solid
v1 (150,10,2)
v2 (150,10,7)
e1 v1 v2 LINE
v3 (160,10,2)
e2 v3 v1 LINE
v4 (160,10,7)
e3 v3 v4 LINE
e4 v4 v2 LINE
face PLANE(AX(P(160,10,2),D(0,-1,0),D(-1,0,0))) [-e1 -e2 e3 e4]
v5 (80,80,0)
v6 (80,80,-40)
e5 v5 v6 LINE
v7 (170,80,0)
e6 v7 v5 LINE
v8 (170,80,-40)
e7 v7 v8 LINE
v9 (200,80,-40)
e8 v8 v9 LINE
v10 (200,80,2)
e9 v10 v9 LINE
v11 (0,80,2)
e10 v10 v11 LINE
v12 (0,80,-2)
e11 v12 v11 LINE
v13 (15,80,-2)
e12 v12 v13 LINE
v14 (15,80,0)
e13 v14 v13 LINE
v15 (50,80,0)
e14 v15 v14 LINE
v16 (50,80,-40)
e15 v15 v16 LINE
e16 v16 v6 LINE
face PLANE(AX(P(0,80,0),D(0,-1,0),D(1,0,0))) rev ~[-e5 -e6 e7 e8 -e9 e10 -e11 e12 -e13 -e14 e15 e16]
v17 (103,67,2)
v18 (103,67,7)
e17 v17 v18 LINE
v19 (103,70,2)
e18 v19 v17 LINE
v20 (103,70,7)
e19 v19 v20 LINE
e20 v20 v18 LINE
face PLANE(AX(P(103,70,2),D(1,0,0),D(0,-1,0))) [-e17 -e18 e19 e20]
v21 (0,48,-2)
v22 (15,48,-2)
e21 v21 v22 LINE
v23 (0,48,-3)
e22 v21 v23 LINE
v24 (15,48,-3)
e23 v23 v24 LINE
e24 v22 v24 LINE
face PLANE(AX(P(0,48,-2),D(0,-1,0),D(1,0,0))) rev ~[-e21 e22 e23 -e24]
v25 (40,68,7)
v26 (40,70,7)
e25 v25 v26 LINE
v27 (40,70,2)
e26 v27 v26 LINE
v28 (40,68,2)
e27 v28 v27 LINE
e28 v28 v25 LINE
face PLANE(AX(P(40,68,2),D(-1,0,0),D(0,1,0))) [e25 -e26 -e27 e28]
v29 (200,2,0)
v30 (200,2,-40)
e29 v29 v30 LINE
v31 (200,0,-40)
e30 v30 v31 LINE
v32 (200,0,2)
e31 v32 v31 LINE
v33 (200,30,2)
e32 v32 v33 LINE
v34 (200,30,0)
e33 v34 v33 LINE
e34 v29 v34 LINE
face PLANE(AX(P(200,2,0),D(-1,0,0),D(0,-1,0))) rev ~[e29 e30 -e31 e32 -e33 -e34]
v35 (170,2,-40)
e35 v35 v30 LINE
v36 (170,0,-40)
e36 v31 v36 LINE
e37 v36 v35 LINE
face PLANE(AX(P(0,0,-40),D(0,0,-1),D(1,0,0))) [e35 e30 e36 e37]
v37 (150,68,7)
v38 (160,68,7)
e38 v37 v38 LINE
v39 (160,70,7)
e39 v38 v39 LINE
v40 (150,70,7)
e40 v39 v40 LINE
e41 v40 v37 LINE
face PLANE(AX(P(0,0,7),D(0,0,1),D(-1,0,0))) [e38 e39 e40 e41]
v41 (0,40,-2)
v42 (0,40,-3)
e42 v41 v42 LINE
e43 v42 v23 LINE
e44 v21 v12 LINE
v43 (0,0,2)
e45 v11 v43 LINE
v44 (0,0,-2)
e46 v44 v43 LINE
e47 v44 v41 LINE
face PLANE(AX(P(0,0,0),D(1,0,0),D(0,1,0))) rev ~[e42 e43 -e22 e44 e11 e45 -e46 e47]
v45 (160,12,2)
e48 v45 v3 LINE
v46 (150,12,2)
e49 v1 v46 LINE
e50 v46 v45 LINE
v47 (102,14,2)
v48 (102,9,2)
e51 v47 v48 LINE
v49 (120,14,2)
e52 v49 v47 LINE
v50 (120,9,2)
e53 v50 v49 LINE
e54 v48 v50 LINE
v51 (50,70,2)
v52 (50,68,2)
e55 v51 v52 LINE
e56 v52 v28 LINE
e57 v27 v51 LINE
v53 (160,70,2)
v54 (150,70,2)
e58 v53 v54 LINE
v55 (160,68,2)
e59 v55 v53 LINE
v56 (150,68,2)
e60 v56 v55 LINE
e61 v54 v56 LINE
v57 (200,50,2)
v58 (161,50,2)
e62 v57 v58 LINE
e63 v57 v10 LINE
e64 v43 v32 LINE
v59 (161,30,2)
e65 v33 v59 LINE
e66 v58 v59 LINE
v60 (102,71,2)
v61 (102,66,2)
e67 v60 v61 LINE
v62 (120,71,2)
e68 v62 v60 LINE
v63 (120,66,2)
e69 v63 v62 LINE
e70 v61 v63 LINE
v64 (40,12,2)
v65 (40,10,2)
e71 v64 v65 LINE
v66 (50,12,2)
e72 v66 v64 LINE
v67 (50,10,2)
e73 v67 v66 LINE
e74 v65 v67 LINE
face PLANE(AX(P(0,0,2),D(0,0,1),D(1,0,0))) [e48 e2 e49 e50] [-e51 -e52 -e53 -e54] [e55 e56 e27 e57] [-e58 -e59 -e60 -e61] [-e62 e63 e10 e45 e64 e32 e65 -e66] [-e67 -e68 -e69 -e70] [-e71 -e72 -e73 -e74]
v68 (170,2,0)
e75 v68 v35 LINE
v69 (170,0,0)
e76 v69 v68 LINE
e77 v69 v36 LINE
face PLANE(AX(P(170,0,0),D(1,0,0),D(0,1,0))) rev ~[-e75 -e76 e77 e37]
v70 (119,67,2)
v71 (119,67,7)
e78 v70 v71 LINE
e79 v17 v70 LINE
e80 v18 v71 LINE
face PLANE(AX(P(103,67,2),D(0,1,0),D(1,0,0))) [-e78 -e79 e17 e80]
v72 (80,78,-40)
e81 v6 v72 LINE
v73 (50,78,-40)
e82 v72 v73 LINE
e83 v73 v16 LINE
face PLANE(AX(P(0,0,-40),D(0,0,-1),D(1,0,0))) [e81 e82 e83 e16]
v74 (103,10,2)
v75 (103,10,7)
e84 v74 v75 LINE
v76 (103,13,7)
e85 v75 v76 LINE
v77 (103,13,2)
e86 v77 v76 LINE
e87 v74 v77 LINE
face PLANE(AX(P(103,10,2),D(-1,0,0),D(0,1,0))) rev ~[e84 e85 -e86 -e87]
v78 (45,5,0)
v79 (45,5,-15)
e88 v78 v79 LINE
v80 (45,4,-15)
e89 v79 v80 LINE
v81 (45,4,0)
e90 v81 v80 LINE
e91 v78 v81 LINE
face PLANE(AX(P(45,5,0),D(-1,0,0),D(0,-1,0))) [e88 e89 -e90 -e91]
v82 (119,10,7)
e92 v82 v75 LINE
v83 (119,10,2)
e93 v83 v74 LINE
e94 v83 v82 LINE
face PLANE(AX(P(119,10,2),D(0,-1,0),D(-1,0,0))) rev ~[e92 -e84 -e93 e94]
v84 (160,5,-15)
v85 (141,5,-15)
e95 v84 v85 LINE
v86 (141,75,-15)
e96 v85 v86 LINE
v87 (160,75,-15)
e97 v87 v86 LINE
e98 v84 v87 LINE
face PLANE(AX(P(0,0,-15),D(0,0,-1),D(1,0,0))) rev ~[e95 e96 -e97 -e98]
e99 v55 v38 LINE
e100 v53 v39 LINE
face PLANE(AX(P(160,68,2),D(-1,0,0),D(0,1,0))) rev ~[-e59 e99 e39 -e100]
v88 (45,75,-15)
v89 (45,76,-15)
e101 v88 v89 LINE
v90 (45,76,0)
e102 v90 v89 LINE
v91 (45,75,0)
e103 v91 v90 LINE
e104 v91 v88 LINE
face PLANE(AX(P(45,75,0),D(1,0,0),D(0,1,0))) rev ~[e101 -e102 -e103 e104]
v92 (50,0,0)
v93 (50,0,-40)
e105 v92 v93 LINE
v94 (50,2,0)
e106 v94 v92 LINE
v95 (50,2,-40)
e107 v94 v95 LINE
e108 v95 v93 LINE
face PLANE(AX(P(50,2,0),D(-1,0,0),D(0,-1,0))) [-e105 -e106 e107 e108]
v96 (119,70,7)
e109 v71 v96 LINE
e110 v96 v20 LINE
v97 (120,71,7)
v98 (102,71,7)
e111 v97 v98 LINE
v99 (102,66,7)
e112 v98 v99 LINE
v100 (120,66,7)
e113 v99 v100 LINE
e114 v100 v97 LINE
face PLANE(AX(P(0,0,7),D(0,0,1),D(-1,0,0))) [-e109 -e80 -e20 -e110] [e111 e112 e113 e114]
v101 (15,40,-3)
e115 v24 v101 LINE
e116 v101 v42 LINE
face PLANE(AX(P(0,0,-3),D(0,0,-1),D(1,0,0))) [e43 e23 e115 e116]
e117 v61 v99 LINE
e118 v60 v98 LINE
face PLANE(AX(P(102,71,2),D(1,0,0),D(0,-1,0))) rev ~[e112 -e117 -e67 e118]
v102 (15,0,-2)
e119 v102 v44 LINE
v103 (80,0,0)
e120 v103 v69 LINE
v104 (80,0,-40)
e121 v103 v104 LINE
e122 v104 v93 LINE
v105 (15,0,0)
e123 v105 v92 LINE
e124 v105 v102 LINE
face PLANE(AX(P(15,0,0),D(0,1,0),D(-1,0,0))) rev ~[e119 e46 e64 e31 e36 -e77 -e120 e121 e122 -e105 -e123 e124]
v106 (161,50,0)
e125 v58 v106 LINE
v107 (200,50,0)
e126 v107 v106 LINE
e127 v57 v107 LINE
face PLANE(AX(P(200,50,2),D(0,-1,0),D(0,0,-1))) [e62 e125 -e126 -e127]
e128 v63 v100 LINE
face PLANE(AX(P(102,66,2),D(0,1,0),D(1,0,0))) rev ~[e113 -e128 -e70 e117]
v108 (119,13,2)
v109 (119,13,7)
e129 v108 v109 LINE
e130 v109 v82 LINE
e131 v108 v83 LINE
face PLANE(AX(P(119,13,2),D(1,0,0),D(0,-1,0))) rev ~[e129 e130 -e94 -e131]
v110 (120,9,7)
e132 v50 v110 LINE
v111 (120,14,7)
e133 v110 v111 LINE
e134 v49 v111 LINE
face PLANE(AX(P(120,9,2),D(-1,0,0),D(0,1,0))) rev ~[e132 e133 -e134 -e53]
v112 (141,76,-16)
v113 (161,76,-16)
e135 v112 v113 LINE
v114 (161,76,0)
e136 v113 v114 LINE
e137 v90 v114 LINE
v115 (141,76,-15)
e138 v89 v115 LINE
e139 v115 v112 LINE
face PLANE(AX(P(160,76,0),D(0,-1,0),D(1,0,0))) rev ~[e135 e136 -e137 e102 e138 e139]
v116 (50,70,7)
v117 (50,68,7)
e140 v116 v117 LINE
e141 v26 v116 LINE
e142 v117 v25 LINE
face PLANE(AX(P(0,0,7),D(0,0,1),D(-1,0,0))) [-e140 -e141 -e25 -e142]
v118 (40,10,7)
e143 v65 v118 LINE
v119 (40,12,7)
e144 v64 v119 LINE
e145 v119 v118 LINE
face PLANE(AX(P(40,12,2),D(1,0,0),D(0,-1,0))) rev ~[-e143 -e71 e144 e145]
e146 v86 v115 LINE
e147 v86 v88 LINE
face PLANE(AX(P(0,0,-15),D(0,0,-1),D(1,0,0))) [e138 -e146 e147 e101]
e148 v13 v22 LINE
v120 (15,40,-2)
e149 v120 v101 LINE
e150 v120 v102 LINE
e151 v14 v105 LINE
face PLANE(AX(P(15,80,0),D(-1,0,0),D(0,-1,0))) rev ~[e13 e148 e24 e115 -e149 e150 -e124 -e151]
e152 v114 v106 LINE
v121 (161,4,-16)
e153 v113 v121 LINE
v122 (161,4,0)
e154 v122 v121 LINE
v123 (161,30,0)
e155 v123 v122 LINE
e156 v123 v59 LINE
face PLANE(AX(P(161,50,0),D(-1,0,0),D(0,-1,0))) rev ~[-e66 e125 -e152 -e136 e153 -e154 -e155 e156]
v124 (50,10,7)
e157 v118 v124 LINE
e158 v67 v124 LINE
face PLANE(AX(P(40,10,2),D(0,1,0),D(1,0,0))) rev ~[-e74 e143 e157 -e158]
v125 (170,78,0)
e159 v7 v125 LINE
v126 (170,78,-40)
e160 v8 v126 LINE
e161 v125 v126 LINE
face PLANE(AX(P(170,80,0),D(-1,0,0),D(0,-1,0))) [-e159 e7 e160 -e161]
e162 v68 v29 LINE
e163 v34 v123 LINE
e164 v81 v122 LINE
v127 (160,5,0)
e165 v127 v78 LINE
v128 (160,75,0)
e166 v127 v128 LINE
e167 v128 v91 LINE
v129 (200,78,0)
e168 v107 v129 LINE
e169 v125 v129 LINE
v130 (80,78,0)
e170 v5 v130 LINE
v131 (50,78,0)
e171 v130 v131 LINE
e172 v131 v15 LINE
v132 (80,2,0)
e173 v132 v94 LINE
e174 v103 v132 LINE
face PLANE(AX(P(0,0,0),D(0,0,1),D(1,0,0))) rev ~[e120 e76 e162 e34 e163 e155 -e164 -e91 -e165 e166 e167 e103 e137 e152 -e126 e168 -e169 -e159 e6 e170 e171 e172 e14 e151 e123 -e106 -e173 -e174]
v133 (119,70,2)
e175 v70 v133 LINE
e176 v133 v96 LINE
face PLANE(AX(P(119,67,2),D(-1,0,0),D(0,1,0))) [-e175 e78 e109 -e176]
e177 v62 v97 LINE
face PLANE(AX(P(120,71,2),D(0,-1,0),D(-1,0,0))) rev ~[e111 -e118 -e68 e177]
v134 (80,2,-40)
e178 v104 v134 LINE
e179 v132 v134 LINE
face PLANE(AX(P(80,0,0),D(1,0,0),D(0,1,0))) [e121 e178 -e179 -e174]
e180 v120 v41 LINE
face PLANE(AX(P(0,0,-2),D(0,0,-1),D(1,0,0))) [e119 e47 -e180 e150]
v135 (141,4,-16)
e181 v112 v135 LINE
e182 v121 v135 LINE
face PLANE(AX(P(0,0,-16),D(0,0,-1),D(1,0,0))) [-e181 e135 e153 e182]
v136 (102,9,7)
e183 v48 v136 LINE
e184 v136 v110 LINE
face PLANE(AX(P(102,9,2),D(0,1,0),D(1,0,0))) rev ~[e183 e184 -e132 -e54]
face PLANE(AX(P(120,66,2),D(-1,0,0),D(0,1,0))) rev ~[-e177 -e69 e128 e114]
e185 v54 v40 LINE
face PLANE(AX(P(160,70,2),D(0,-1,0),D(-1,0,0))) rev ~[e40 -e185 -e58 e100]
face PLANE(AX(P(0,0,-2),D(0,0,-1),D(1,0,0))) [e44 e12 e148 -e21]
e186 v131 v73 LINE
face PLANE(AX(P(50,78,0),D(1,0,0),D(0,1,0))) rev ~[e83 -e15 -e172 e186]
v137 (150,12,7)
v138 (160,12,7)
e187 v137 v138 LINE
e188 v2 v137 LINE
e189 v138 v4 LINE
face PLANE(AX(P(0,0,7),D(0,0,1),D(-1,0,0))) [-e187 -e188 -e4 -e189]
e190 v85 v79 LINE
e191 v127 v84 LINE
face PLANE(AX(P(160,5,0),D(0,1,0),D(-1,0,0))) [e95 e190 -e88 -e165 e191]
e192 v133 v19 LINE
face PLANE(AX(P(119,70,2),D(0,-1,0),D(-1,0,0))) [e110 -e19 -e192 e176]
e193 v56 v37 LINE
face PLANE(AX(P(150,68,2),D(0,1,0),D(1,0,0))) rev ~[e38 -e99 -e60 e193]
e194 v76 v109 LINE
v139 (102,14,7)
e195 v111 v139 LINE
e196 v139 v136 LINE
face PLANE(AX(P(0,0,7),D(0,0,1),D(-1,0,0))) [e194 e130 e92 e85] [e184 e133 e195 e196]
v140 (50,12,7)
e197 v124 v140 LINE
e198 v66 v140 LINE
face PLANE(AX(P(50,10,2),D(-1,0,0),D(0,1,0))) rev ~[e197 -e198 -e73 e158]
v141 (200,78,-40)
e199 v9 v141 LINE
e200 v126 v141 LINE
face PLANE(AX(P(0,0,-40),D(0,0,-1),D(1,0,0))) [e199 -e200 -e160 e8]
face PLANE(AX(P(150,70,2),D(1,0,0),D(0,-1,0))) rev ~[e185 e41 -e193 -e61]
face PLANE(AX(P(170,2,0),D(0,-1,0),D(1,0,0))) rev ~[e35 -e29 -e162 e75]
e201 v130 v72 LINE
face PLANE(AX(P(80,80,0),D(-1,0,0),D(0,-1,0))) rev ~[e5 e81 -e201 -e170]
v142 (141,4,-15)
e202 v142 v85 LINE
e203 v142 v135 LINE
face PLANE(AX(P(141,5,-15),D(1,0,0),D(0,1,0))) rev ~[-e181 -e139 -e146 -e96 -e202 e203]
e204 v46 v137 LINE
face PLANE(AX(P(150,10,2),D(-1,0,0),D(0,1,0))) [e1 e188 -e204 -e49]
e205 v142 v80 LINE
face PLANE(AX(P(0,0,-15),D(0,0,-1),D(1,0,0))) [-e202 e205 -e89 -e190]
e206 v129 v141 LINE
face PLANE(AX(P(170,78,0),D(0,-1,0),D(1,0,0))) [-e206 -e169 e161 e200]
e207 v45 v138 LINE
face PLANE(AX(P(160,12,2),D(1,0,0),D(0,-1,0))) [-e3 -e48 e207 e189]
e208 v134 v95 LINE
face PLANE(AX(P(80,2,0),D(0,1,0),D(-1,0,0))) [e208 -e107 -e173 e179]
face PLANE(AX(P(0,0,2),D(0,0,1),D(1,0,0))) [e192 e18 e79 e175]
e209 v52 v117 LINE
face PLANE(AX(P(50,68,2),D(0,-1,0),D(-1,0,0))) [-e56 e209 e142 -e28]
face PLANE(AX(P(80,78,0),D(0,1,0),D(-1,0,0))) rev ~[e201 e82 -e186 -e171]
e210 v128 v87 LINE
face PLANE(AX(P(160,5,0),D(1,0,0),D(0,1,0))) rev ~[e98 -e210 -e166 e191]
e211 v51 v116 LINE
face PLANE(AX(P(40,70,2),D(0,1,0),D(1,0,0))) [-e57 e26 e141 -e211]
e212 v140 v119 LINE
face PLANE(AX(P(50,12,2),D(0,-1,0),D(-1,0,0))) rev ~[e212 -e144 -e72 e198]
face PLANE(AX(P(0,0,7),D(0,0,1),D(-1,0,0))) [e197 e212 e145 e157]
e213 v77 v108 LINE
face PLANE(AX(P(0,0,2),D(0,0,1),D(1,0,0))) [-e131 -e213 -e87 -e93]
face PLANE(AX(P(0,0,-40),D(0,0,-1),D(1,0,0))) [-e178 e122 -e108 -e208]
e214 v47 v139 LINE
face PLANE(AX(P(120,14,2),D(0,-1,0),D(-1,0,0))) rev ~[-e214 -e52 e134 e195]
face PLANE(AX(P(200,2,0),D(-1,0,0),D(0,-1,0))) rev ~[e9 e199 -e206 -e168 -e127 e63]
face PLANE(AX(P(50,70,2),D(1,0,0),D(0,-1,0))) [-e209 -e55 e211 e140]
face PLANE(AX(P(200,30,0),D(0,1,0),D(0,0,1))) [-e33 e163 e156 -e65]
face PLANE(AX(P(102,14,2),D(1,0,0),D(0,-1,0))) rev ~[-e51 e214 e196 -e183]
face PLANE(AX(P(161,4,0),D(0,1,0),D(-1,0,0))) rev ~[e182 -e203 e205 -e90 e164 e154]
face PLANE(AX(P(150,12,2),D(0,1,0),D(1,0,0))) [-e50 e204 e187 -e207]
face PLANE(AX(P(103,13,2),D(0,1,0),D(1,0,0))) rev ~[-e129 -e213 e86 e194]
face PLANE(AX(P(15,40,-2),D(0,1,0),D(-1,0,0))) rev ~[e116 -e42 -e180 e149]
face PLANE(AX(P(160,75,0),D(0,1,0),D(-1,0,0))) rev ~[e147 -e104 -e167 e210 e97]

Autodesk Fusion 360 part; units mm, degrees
sketch "Sketch1" plane through (0, 0, 0) normal (0, 0, 1) x (1, 0, 0)
  line L0 (0, 0) -> (200, 0)
  line L1 (200, 0) -> (200, 80)
  line L2 (200, 80) -> (0, 80)
  line L3 (0, 80) -> (0, 0)
  dimension "d1" = 200
  dimension "d2" = 80
  dimension "d58" = 0
  dimension "d59" = 0
  dimension "d60" = 0
  dimension "d61" = 0
  dimension "d125" = 0
  dimension "d126" = 0
  dimension "d127" = 0
  dimension "d128" = 0
extrude "Extrude1" add sketch "Sketch1" along normal blind 2
sketch "Sketch2" plane through (0, 0, 2) normal (0, 0, 1) x (-1, 0, 0)
  line L0 (0, -80) -> (0, 0)
  line L1 (0, 0) -> (-200, 0)
  line L2 (-200, 0) -> (-200, -80)
  line L3 (-200, -80) -> (0, -80)
  line L4 (-40, -70) -> (-50, -70)
  line L5 (-50, -70) -> (-50, -68)
  line L6 (-50, -68) -> (-40, -68)
  line L7 (-40, -68) -> (-40, -70)
  dimension "d5" = 10
  dimension "d6" = 2
  dimension "d9" = 10
  dimension "d10" = 40
extrude "Extrude2" add sketch "Sketch2" along normal blind 5 contours L4 L5 L6 L7
sketch "Sketch3" plane through (0, 0, 2) normal (0, 0, 1) x (-1, 0, 0)
  line L0 (-40, -68) -> (-40, -70)
  line L1 (-40, -70) -> (-50, -70)
  line L2 (-50, -70) -> (-50, -68)
  line L3 (-50, -68) -> (-40, -68)
  line L4 (0, -80) -> (0, 0)
  line L5 (0, 0) -> (-200, 0)
  line L6 (-200, 0) -> (-200, -80)
  line L7 (-200, -80) -> (0, -80)
  line L8 (-40, -10) -> (-50, -10)
  line L9 (-50, -10) -> (-50, -12)
  line L10 (-50, -12) -> (-40, -12)
  line L11 (-40, -12) -> (-40, -10)
  dimension "d11" = 10
  dimension "d12" = 2
  dimension "d13" = 10
  dimension "d14" = 40
extrude "Extrude3" add sketch "Sketch3" along normal blind 5 contours L8 L9 L10 L11
sketch "Sketch4" plane through (0, 0, 2) normal (0, 0, 1) x (-1, 0, 0)
  line L0 (-40, -12) -> (-50, -12)
  line L1 (-50, -12) -> (-50, -10)
  line L2 (-50, -10) -> (-40, -10)
  line L3 (-40, -10) -> (-40, -12)
  line L4 (-40, -68) -> (-40, -70)
  line L5 (-40, -70) -> (-50, -70)
  line L6 (-50, -70) -> (-50, -68)
  line L7 (-50, -68) -> (-40, -68)
  line L8 (0, -80) -> (0, 0)
  line L9 (0, 0) -> (-200, 0)
  line L10 (-200, 0) -> (-200, -80)
  line L11 (-200, -80) -> (0, -80)
  line L12 (-160, -10) -> (-150, -10)
  line L13 (-150, -10) -> (-150, -12)
  line L14 (-150, -12) -> (-160, -12)
  line L15 (-160, -12) -> (-160, -10)
  dimension "d17" = 10
  dimension "d18" = 2
  dimension "d19" = 40
  dimension "d20" = 10
extrude "Extrude4" add sketch "Sketch4" along normal blind 5 contours L12 L13 L14 L15
sketch "Sketch5" plane through (0, 0, 2) normal (0, 0, 1) x (-1, 0, 0)
  line L0 (-160, -12) -> (-160, -10)
  line L1 (-160, -10) -> (-150, -10)
  line L2 (-150, -10) -> (-150, -12)
  line L3 (-150, -12) -> (-160, -12)
  line L4 (-40, -12) -> (-50, -12)
  line L5 (-50, -12) -> (-50, -10)
  line L6 (-50, -10) -> (-40, -10)
  line L7 (-40, -10) -> (-40, -12)
  line L8 (-40, -68) -> (-40, -70)
  line L9 (-40, -70) -> (-50, -70)
  line L10 (-50, -70) -> (-50, -68)
  line L11 (-50, -68) -> (-40, -68)
  line L12 (0, -80) -> (0, 0)
  line L13 (0, 0) -> (-200, 0)
  line L14 (-200, 0) -> (-200, -80)
  line L15 (-200, -80) -> (0, -80)
  line L16 (-160, -70) -> (-150, -70)
  line L17 (-150, -70) -> (-150, -68)
  line L18 (-150, -68) -> (-160, -68)
  line L19 (-160, -68) -> (-160, -70)
  dimension "d23" = 10
  dimension "d24" = 2
  dimension "d25" = 40
  dimension "d26" = 10
extrude "Extrude5" add sketch "Sketch5" along normal blind 5 contours L16 L17 L18 L19
sketch "Sketch8" plane through (0, 0, 0) normal (0, 0, 1) x (1, 0, 0)
  line L0 (45, 4) -> (160, 4)
  line L1 (160, 4) -> (160, 5)
  line L2 (160, 5) -> (45, 5)
  line L3 (45, 5) -> (45, 4)
  line L4 (0, 0) -> (200, 0)
  line L5 (0, 80) -> (0, 0)
  dimension "d42" = 115
  dimension "d43" = 1
  dimension "d44" = 4
  dimension "d45" = 45
extrude "Extrude8" add sketch "Sketch8" against normal blind 15
sketch "Sketch9" plane through (0, 0, 0) normal (0, 0, -1) x (1, 0, 0)
  line L0 (45, -4) -> (160, -4)
  line L1 (160, -4) -> (160, -5)
  line L2 (160, -5) -> (45, -5)
  line L3 (45, -5) -> (45, -4)
  line L4 (0, 0) -> (0, -80)
  line L5 (0, -80) -> (200, -80)
  line L6 (200, -80) -> (200, 0)
  line L7 (200, 0) -> (0, 0)
  line L8 (45, -76) -> (160, -76)
  line L9 (160, -76) -> (160, -75)
  line L10 (160, -75) -> (45, -75)
  line L11 (45, -75) -> (45, -76)
  dimension "d48" = 115
  dimension "d49" = 1
  dimension "d50" = 4
  dimension "d51" = 45
extrude "Extrude9" add sketch "Sketch9" along normal blind 15 contours L8 L9 L10 L11
sketch "Sketch10" plane through (0, 0, 0) normal (0, 0, -1) x (1, 0, 0)
  line L0 (45, -75) -> (160, -75)
  line L1 (160, -75) -> (160, -76)
  line L2 (160, -76) -> (45, -76)
  line L3 (45, -76) -> (45, -75)
  line L4 (45, -4) -> (160, -4)
  line L5 (160, -4) -> (160, -5)
  line L6 (160, -5) -> (45, -5)
  line L7 (45, -5) -> (45, -4)
  line L8 (0, 0) -> (0, -80)
  line L9 (0, -80) -> (200, -80)
  line L10 (200, -80) -> (200, 0)
  line L11 (200, 0) -> (0, 0)
  line L12 (200, -80) -> (170, -80)
  line L13 (170, -80) -> (170, -78)
  line L14 (170, -78) -> (200, -78)
  line L15 (200, -78) -> (200, -80)
  dimension "d66" = 30
  dimension "d67" = 2
extrude "Extrude10" add sketch "Sketch10" along normal blind 40 contours L9 L10 L12 L13 L14 L15
sketch "Sketch11" plane through (0, 0, 0) normal (0, 0, -1) x (1, 0, 0)
  line L0 (170, -80) -> (170, -78)
  line L1 (170, -78) -> (200, -78)
  line L2 (200, -78) -> (200, 0)
  line L3 (200, 0) -> (0, 0)
  line L4 (0, 0) -> (0, -80)
  line L5 (0, -80) -> (170, -80)
  line L6 (45, -4) -> (160, -4)
  line L7 (160, -4) -> (160, -5)
  line L8 (160, -5) -> (45, -5)
  line L9 (45, -5) -> (45, -4)
  line L10 (45, -75) -> (160, -75)
  line L11 (160, -75) -> (160, -76)
  line L12 (160, -76) -> (45, -76)
  line L13 (45, -76) -> (45, -75)
  line L14 (200, 0) -> (170, 0)
  line L15 (170, 0) -> (170, -2)
  line L16 (170, -2) -> (200, -2)
  line L17 (200, -2) -> (200, 0)
  dimension "d70" = 2
  dimension "d71" = 30
extrude "Extrude11" add sketch "Sketch11" along normal blind 40 contours L2 L3 L14 L15 L16 L17
sketch "Sketch12" plane through (0, 0, 0) normal (0, 0, -1) x (1, 0, 0)
  line L0 (170, -2) -> (170, 0)
  line L1 (170, 0) -> (0, 0)
  line L2 (0, 0) -> (0, -80)
  line L3 (0, -80) -> (170, -80)
  line L4 (170, -80) -> (170, -78)
  line L5 (170, -78) -> (200, -78)
  line L6 (200, -78) -> (200, -2)
  line L7 (200, -2) -> (170, -2)
  line L8 (45, -4) -> (160, -4)
  line L9 (160, -4) -> (160, -5)
  line L10 (160, -5) -> (45, -5)
  line L11 (45, -5) -> (45, -4)
  line L12 (45, -75) -> (160, -75)
  line L13 (160, -75) -> (160, -76)
  line L14 (160, -76) -> (45, -76)
  line L15 (45, -76) -> (45, -75)
  line L16 (50, 0) -> (80, 0)
  line L17 (80, 0) -> (80, -2)
  line L18 (80, -2) -> (50, -2)
  line L19 (50, -2) -> (50, 0)
  dimension "d74" = 30
  dimension "d75" = 2
  dimension "d78" = 50
extrude "Extrude12" add sketch "Sketch12" along normal blind 40 contours L1 L16 L17 L18 L19
sketch "Sketch13" plane through (0, 0, 0) normal (0, 0, -1) x (1, 0, 0)
  line L0 (45, -75) -> (160, -75)
  line L1 (160, -75) -> (160, -76)
  line L2 (160, -76) -> (45, -76)
  line L3 (45, -76) -> (45, -75)
  line L4 (45, -4) -> (160, -4)
  line L5 (160, -4) -> (160, -5)
  line L6 (160, -5) -> (45, -5)
  line L7 (45, -5) -> (45, -4)
  line L8 (80, 0) -> (80, -2)
  line L9 (80, -2) -> (50, -2)
  line L10 (50, -2) -> (50, 0)
  line L11 (50, 0) -> (0, 0)
  line L12 (0, 0) -> (0, -80)
  line L13 (0, -80) -> (170, -80)
  line L14 (170, -80) -> (170, -78)
  line L15 (170, -78) -> (200, -78)
  line L16 (200, -78) -> (200, -2)
  line L17 (200, -2) -> (170, -2)
  line L18 (170, -2) -> (170, 0)
  line L19 (170, 0) -> (80, 0)
  line L20 (50, -80) -> (80, -80)
  line L21 (80, -80) -> (80, -78)
  line L22 (80, -78) -> (50, -78)
  line L23 (50, -78) -> (50, -80)
  point P0 (200, -78)
  point P1 (200, -2)
  dimension "d79" = 30
  dimension "d80" = 2
  dimension "d81" = 50
  dimension "d175" = 76
extrude "Extrude13" add sketch "Sketch13" along normal blind 40 contours L13 L20 L21 L22 L23
sketch "Sketch17" plane through (200, 0, 0) normal (1, 0, 0) x (0, 1, 0)
  line L0 (2, 0) -> (78, 0)
  line L1 (78, 0) -> (78, -40)
  line L2 (78, -40) -> (80, -40)
  line L3 (80, -40) -> (80, 2)
  line L4 (80, 2) -> (0, 2)
  line L5 (0, 2) -> (0, -40)
  line L6 (0, -40) -> (2, -40)
  line L7 (2, -40) -> (2, 0)
  line L8 (30, 2) -> (50, 2)
  line L9 (50, 2) -> (50, 0)
  line L10 (50, 0) -> (30, 0)
  line L11 (30, 0) -> (30, 2)
  dimension "d115" = 20
  dimension "d116" = 2
  dimension "d117" = 30
  dimension "d118" = 28.4712
extrude "Extrude15" cut sketch "Sketch17" against normal blind 39 contours L0 L4 L8 L9 L10 L11
sketch "Sketch21" plane through (0, 0, 0) normal (0, 0, -1) x (1, 0, 0)
  line L0 (45, -4) -> (160, -4)
  line L1 (160, -4) -> (160, -5)
  line L2 (160, -5) -> (45, -5)
  line L3 (45, -5) -> (45, -4)
  line L4 (45, -75) -> (160, -75)
  line L5 (160, -75) -> (160, -76)
  line L6 (160, -76) -> (45, -76)
  line L7 (45, -76) -> (45, -75)
  line L8 (200, -50) -> (161, -50)
  line L9 (161, -50) -> (161, -30)
  line L10 (161, -30) -> (200, -30)
  line L11 (200, -30) -> (200, -2)
  line L12 (200, -2) -> (170, -2)
  line L13 (170, -2) -> (170, 0)
  line L14 (170, 0) -> (80, 0)
  line L15 (80, 0) -> (80, -2)
  line L16 (80, -2) -> (50, -2)
  line L17 (50, -2) -> (50, 0)
  line L18 (50, 0) -> (0, 0)
  line L19 (0, 0) -> (0, -80)
  line L20 (0, -80) -> (50, -80)
  line L21 (50, -80) -> (50, -78)
  line L22 (50, -78) -> (80, -78)
  line L23 (80, -78) -> (80, -80)
  line L24 (80, -80) -> (170, -80)
  line L25 (170, -80) -> (170, -78)
  line L26 (170, -78) -> (200, -78)
  line L27 (200, -78) -> (200, -50)
  line L28 (0, -80) -> (15, -80)
  line L29 (15, -80) -> (15, 0)
  line L30 (15, 0) -> (0, 0)
  line L31 (0, 0) -> (0, -80)
extrude "Extrude20" add sketch "Sketch21" along normal blind 2 contours L18 L19 L20 L28 L29 L30 L31
sketch "Sketch23" plane through (0, 0, -2) normal (0, 0, -1) x (1, 0, 0)
  line L0 (0, 0) -> (0, -80)
  line L1 (0, -80) -> (15, -80)
  line L2 (15, -80) -> (15, 0)
  line L3 (15, 0) -> (0, 0)
  line L4 (15, -40) -> (0, -40)
  line L5 (0, -40) -> (0, -48)
  line L6 (0, -48) -> (15, -48)
  line L7 (15, -48) -> (15, -40)
  dimension "d168" = 8
extrude "Extrude21" add sketch "Sketch23" along normal blind 1 contours L0 L2 L4 L5 L6 L7
sketch "Sketch26" plane through (0, 0, 0) normal (0, 0, -1) x (1, 0, 0)
  line L0 (15, 0) -> (15, -80)
  line L1 (15, -80) -> (50, -80)
  line L2 (50, -80) -> (50, -78)
  line L3 (50, -78) -> (80, -78)
  line L4 (80, -78) -> (80, -80)
  line L5 (80, -80) -> (170, -80)
  line L6 (170, -80) -> (170, -78)
  line L7 (170, -78) -> (200, -78)
  line L8 (200, -78) -> (200, -50)
  line L9 (200, -50) -> (161, -50)
  line L10 (161, -50) -> (161, -30)
  line L11 (161, -30) -> (200, -30)
  line L12 (200, -30) -> (200, -2)
  line L13 (200, -2) -> (170, -2)
  line L14 (170, -2) -> (170, 0)
  line L15 (170, 0) -> (80, 0)
  line L16 (80, 0) -> (80, -2)
  line L17 (80, -2) -> (50, -2)
  line L18 (50, -2) -> (50, 0)
  line L19 (50, 0) -> (15, 0)
  line L20 (45, -4) -> (160, -4)
  line L21 (160, -4) -> (160, -5)
  line L22 (160, -5) -> (45, -5)
  line L23 (45, -5) -> (45, -4)
  line L24 (45, -75) -> (160, -75)
  line L25 (160, -75) -> (160, -76)
  line L26 (160, -76) -> (45, -76)
  line L27 (45, -76) -> (45, -75)
  line L28 (160, -76) -> (161, -76)
  line L29 (161, -76) -> (161, -4)
  line L30 (161, -4) -> (160, -4)
  line L31 (160, -4) -> (160, -76)
  dimension "d178" = 1
extrude "Extrude22" add sketch "Sketch26" along normal blind 15 contours L10 L21 L25 L28 L29 L30 L31
sketch "Sketch28" plane through (0, 0, -15) normal (0, 0, -1) x (1, 0, 0)
  line L0 (45, -75) -> (45, -76)
  line L1 (45, -76) -> (161, -76)
  line L2 (161, -76) -> (161, -4)
  line L3 (161, -4) -> (45, -4)
  line L4 (45, -4) -> (45, -5)
  line L5 (45, -5) -> (160, -5)
  line L6 (160, -5) -> (160, -75)
  line L7 (160, -75) -> (45, -75)
  line L8 (161, -4) -> (141, -4)
  line L9 (141, -4) -> (141, -76)
  line L10 (141, -76) -> (161, -76)
  line L11 (161, -76) -> (161, -4)
  dimension "d185" = 20
extrude "Extrude25" add sketch "Sketch28" along normal blind 1 contours L5 L6 L7 L9 | L1 L2 L3 L5 L6 L7 L8 L9 L10 L11
sketch "Sketch29" plane through (0, 0, 2) normal (0, 0, 1) x (-1, 0, 0)
  line L0 (-161, -50) -> (-200, -50)
  line L1 (-200, -50) -> (-200, -80)
  line L2 (-200, -80) -> (0, -80)
  line L3 (0, -80) -> (0, 0)
  line L4 (0, 0) -> (-200, 0)
  line L5 (-200, 0) -> (-200, -30)
  line L6 (-200, -30) -> (-161, -30)
  line L7 (-161, -30) -> (-161, -50)
  line L8 (-160, -68) -> (-150, -68)
  line L9 (-150, -68) -> (-150, -70)
  line L10 (-150, -70) -> (-160, -70)
  line L11 (-160, -70) -> (-160, -68)
  line L12 (-160, -12) -> (-160, -10)
  line L13 (-160, -10) -> (-150, -10)
  line L14 (-150, -10) -> (-150, -12)
  line L15 (-150, -12) -> (-160, -12)
  line L16 (-40, -12) -> (-50, -12)
  line L17 (-50, -12) -> (-50, -10)
  line L18 (-50, -10) -> (-40, -10)
  line L19 (-40, -10) -> (-40, -12)
  line L20 (-40, -68) -> (-40, -70)
  line L21 (-40, -70) -> (-50, -70)
  line L22 (-50, -70) -> (-50, -68)
  line L23 (-50, -68) -> (-40, -68)
  line L24 (-120, -71) -> (-102, -71)
  line L25 (-102, -71) -> (-102, -66)
  line L26 (-102, -66) -> (-120, -66)
  line L27 (-120, -66) -> (-120, -71)
  line L28 (-103, -67) -> (-119, -67)
  line L29 (-119, -67) -> (-119, -70)
  line L30 (-119, -70) -> (-103, -70)
  line L31 (-103, -70) -> (-103, -67)
  dimension "d190" = 18
  dimension "d191" = 5
  dimension "d192" = 80
  dimension "d193" = 9
  dimension "d194" = 1
  dimension "d195" = 1
extrude "Extrude26" add sketch "Sketch29" along normal blind 5 contours L24 L25 L26 L27
sketch "Sketch30" plane through (0, 0, 2) normal (0, 0, 1) x (-1, 0, 0)
  line L0 (-40, -68) -> (-40, -70)
  line L1 (-40, -70) -> (-50, -70)
  line L2 (-50, -70) -> (-50, -68)
  line L3 (-50, -68) -> (-40, -68)
  line L4 (-40, -12) -> (-50, -12)
  line L5 (-50, -12) -> (-50, -10)
  line L6 (-50, -10) -> (-40, -10)
  line L7 (-40, -10) -> (-40, -12)
  line L8 (-160, -12) -> (-160, -10)
  line L9 (-160, -10) -> (-150, -10)
  line L10 (-150, -10) -> (-150, -12)
  line L11 (-150, -12) -> (-160, -12)
  line L12 (-160, -68) -> (-150, -68)
  line L13 (-150, -68) -> (-150, -70)
  line L14 (-150, -70) -> (-160, -70)
  line L15 (-160, -70) -> (-160, -68)
  line L16 (-161, -50) -> (-200, -50)
  line L17 (-200, -50) -> (-200, -80)
  line L18 (-200, -80) -> (0, -80)
  line L19 (0, -80) -> (0, 0)
  line L20 (0, 0) -> (-200, 0)
  line L21 (-200, 0) -> (-200, -30)
  line L22 (-200, -30) -> (-161, -30)
  line L23 (-161, -30) -> (-161, -50)
  line L24 (-120, -66) -> (-102, -66)
  line L25 (-102, -66) -> (-102, -71)
  line L26 (-102, -71) -> (-120, -71)
  line L27 (-120, -71) -> (-120, -66)
  line L28 (-120, -14) -> (-102, -14)
  line L29 (-102, -14) -> (-102, -9)
  line L30 (-102, -9) -> (-120, -9)
  line L31 (-120, -9) -> (-120, -14)
  line L32 (-103, -13) -> (-119, -13)
  line L33 (-119, -13) -> (-119, -10)
  line L34 (-119, -10) -> (-103, -10)
  line L35 (-103, -10) -> (-103, -13)
  dimension "d198" = 18
  dimension "d199" = 5
  dimension "d200" = 1
  dimension "d201" = 9
extrude "Extrude27" add sketch "Sketch30" along normal blind 5 contours L28 L29 L30 L31
